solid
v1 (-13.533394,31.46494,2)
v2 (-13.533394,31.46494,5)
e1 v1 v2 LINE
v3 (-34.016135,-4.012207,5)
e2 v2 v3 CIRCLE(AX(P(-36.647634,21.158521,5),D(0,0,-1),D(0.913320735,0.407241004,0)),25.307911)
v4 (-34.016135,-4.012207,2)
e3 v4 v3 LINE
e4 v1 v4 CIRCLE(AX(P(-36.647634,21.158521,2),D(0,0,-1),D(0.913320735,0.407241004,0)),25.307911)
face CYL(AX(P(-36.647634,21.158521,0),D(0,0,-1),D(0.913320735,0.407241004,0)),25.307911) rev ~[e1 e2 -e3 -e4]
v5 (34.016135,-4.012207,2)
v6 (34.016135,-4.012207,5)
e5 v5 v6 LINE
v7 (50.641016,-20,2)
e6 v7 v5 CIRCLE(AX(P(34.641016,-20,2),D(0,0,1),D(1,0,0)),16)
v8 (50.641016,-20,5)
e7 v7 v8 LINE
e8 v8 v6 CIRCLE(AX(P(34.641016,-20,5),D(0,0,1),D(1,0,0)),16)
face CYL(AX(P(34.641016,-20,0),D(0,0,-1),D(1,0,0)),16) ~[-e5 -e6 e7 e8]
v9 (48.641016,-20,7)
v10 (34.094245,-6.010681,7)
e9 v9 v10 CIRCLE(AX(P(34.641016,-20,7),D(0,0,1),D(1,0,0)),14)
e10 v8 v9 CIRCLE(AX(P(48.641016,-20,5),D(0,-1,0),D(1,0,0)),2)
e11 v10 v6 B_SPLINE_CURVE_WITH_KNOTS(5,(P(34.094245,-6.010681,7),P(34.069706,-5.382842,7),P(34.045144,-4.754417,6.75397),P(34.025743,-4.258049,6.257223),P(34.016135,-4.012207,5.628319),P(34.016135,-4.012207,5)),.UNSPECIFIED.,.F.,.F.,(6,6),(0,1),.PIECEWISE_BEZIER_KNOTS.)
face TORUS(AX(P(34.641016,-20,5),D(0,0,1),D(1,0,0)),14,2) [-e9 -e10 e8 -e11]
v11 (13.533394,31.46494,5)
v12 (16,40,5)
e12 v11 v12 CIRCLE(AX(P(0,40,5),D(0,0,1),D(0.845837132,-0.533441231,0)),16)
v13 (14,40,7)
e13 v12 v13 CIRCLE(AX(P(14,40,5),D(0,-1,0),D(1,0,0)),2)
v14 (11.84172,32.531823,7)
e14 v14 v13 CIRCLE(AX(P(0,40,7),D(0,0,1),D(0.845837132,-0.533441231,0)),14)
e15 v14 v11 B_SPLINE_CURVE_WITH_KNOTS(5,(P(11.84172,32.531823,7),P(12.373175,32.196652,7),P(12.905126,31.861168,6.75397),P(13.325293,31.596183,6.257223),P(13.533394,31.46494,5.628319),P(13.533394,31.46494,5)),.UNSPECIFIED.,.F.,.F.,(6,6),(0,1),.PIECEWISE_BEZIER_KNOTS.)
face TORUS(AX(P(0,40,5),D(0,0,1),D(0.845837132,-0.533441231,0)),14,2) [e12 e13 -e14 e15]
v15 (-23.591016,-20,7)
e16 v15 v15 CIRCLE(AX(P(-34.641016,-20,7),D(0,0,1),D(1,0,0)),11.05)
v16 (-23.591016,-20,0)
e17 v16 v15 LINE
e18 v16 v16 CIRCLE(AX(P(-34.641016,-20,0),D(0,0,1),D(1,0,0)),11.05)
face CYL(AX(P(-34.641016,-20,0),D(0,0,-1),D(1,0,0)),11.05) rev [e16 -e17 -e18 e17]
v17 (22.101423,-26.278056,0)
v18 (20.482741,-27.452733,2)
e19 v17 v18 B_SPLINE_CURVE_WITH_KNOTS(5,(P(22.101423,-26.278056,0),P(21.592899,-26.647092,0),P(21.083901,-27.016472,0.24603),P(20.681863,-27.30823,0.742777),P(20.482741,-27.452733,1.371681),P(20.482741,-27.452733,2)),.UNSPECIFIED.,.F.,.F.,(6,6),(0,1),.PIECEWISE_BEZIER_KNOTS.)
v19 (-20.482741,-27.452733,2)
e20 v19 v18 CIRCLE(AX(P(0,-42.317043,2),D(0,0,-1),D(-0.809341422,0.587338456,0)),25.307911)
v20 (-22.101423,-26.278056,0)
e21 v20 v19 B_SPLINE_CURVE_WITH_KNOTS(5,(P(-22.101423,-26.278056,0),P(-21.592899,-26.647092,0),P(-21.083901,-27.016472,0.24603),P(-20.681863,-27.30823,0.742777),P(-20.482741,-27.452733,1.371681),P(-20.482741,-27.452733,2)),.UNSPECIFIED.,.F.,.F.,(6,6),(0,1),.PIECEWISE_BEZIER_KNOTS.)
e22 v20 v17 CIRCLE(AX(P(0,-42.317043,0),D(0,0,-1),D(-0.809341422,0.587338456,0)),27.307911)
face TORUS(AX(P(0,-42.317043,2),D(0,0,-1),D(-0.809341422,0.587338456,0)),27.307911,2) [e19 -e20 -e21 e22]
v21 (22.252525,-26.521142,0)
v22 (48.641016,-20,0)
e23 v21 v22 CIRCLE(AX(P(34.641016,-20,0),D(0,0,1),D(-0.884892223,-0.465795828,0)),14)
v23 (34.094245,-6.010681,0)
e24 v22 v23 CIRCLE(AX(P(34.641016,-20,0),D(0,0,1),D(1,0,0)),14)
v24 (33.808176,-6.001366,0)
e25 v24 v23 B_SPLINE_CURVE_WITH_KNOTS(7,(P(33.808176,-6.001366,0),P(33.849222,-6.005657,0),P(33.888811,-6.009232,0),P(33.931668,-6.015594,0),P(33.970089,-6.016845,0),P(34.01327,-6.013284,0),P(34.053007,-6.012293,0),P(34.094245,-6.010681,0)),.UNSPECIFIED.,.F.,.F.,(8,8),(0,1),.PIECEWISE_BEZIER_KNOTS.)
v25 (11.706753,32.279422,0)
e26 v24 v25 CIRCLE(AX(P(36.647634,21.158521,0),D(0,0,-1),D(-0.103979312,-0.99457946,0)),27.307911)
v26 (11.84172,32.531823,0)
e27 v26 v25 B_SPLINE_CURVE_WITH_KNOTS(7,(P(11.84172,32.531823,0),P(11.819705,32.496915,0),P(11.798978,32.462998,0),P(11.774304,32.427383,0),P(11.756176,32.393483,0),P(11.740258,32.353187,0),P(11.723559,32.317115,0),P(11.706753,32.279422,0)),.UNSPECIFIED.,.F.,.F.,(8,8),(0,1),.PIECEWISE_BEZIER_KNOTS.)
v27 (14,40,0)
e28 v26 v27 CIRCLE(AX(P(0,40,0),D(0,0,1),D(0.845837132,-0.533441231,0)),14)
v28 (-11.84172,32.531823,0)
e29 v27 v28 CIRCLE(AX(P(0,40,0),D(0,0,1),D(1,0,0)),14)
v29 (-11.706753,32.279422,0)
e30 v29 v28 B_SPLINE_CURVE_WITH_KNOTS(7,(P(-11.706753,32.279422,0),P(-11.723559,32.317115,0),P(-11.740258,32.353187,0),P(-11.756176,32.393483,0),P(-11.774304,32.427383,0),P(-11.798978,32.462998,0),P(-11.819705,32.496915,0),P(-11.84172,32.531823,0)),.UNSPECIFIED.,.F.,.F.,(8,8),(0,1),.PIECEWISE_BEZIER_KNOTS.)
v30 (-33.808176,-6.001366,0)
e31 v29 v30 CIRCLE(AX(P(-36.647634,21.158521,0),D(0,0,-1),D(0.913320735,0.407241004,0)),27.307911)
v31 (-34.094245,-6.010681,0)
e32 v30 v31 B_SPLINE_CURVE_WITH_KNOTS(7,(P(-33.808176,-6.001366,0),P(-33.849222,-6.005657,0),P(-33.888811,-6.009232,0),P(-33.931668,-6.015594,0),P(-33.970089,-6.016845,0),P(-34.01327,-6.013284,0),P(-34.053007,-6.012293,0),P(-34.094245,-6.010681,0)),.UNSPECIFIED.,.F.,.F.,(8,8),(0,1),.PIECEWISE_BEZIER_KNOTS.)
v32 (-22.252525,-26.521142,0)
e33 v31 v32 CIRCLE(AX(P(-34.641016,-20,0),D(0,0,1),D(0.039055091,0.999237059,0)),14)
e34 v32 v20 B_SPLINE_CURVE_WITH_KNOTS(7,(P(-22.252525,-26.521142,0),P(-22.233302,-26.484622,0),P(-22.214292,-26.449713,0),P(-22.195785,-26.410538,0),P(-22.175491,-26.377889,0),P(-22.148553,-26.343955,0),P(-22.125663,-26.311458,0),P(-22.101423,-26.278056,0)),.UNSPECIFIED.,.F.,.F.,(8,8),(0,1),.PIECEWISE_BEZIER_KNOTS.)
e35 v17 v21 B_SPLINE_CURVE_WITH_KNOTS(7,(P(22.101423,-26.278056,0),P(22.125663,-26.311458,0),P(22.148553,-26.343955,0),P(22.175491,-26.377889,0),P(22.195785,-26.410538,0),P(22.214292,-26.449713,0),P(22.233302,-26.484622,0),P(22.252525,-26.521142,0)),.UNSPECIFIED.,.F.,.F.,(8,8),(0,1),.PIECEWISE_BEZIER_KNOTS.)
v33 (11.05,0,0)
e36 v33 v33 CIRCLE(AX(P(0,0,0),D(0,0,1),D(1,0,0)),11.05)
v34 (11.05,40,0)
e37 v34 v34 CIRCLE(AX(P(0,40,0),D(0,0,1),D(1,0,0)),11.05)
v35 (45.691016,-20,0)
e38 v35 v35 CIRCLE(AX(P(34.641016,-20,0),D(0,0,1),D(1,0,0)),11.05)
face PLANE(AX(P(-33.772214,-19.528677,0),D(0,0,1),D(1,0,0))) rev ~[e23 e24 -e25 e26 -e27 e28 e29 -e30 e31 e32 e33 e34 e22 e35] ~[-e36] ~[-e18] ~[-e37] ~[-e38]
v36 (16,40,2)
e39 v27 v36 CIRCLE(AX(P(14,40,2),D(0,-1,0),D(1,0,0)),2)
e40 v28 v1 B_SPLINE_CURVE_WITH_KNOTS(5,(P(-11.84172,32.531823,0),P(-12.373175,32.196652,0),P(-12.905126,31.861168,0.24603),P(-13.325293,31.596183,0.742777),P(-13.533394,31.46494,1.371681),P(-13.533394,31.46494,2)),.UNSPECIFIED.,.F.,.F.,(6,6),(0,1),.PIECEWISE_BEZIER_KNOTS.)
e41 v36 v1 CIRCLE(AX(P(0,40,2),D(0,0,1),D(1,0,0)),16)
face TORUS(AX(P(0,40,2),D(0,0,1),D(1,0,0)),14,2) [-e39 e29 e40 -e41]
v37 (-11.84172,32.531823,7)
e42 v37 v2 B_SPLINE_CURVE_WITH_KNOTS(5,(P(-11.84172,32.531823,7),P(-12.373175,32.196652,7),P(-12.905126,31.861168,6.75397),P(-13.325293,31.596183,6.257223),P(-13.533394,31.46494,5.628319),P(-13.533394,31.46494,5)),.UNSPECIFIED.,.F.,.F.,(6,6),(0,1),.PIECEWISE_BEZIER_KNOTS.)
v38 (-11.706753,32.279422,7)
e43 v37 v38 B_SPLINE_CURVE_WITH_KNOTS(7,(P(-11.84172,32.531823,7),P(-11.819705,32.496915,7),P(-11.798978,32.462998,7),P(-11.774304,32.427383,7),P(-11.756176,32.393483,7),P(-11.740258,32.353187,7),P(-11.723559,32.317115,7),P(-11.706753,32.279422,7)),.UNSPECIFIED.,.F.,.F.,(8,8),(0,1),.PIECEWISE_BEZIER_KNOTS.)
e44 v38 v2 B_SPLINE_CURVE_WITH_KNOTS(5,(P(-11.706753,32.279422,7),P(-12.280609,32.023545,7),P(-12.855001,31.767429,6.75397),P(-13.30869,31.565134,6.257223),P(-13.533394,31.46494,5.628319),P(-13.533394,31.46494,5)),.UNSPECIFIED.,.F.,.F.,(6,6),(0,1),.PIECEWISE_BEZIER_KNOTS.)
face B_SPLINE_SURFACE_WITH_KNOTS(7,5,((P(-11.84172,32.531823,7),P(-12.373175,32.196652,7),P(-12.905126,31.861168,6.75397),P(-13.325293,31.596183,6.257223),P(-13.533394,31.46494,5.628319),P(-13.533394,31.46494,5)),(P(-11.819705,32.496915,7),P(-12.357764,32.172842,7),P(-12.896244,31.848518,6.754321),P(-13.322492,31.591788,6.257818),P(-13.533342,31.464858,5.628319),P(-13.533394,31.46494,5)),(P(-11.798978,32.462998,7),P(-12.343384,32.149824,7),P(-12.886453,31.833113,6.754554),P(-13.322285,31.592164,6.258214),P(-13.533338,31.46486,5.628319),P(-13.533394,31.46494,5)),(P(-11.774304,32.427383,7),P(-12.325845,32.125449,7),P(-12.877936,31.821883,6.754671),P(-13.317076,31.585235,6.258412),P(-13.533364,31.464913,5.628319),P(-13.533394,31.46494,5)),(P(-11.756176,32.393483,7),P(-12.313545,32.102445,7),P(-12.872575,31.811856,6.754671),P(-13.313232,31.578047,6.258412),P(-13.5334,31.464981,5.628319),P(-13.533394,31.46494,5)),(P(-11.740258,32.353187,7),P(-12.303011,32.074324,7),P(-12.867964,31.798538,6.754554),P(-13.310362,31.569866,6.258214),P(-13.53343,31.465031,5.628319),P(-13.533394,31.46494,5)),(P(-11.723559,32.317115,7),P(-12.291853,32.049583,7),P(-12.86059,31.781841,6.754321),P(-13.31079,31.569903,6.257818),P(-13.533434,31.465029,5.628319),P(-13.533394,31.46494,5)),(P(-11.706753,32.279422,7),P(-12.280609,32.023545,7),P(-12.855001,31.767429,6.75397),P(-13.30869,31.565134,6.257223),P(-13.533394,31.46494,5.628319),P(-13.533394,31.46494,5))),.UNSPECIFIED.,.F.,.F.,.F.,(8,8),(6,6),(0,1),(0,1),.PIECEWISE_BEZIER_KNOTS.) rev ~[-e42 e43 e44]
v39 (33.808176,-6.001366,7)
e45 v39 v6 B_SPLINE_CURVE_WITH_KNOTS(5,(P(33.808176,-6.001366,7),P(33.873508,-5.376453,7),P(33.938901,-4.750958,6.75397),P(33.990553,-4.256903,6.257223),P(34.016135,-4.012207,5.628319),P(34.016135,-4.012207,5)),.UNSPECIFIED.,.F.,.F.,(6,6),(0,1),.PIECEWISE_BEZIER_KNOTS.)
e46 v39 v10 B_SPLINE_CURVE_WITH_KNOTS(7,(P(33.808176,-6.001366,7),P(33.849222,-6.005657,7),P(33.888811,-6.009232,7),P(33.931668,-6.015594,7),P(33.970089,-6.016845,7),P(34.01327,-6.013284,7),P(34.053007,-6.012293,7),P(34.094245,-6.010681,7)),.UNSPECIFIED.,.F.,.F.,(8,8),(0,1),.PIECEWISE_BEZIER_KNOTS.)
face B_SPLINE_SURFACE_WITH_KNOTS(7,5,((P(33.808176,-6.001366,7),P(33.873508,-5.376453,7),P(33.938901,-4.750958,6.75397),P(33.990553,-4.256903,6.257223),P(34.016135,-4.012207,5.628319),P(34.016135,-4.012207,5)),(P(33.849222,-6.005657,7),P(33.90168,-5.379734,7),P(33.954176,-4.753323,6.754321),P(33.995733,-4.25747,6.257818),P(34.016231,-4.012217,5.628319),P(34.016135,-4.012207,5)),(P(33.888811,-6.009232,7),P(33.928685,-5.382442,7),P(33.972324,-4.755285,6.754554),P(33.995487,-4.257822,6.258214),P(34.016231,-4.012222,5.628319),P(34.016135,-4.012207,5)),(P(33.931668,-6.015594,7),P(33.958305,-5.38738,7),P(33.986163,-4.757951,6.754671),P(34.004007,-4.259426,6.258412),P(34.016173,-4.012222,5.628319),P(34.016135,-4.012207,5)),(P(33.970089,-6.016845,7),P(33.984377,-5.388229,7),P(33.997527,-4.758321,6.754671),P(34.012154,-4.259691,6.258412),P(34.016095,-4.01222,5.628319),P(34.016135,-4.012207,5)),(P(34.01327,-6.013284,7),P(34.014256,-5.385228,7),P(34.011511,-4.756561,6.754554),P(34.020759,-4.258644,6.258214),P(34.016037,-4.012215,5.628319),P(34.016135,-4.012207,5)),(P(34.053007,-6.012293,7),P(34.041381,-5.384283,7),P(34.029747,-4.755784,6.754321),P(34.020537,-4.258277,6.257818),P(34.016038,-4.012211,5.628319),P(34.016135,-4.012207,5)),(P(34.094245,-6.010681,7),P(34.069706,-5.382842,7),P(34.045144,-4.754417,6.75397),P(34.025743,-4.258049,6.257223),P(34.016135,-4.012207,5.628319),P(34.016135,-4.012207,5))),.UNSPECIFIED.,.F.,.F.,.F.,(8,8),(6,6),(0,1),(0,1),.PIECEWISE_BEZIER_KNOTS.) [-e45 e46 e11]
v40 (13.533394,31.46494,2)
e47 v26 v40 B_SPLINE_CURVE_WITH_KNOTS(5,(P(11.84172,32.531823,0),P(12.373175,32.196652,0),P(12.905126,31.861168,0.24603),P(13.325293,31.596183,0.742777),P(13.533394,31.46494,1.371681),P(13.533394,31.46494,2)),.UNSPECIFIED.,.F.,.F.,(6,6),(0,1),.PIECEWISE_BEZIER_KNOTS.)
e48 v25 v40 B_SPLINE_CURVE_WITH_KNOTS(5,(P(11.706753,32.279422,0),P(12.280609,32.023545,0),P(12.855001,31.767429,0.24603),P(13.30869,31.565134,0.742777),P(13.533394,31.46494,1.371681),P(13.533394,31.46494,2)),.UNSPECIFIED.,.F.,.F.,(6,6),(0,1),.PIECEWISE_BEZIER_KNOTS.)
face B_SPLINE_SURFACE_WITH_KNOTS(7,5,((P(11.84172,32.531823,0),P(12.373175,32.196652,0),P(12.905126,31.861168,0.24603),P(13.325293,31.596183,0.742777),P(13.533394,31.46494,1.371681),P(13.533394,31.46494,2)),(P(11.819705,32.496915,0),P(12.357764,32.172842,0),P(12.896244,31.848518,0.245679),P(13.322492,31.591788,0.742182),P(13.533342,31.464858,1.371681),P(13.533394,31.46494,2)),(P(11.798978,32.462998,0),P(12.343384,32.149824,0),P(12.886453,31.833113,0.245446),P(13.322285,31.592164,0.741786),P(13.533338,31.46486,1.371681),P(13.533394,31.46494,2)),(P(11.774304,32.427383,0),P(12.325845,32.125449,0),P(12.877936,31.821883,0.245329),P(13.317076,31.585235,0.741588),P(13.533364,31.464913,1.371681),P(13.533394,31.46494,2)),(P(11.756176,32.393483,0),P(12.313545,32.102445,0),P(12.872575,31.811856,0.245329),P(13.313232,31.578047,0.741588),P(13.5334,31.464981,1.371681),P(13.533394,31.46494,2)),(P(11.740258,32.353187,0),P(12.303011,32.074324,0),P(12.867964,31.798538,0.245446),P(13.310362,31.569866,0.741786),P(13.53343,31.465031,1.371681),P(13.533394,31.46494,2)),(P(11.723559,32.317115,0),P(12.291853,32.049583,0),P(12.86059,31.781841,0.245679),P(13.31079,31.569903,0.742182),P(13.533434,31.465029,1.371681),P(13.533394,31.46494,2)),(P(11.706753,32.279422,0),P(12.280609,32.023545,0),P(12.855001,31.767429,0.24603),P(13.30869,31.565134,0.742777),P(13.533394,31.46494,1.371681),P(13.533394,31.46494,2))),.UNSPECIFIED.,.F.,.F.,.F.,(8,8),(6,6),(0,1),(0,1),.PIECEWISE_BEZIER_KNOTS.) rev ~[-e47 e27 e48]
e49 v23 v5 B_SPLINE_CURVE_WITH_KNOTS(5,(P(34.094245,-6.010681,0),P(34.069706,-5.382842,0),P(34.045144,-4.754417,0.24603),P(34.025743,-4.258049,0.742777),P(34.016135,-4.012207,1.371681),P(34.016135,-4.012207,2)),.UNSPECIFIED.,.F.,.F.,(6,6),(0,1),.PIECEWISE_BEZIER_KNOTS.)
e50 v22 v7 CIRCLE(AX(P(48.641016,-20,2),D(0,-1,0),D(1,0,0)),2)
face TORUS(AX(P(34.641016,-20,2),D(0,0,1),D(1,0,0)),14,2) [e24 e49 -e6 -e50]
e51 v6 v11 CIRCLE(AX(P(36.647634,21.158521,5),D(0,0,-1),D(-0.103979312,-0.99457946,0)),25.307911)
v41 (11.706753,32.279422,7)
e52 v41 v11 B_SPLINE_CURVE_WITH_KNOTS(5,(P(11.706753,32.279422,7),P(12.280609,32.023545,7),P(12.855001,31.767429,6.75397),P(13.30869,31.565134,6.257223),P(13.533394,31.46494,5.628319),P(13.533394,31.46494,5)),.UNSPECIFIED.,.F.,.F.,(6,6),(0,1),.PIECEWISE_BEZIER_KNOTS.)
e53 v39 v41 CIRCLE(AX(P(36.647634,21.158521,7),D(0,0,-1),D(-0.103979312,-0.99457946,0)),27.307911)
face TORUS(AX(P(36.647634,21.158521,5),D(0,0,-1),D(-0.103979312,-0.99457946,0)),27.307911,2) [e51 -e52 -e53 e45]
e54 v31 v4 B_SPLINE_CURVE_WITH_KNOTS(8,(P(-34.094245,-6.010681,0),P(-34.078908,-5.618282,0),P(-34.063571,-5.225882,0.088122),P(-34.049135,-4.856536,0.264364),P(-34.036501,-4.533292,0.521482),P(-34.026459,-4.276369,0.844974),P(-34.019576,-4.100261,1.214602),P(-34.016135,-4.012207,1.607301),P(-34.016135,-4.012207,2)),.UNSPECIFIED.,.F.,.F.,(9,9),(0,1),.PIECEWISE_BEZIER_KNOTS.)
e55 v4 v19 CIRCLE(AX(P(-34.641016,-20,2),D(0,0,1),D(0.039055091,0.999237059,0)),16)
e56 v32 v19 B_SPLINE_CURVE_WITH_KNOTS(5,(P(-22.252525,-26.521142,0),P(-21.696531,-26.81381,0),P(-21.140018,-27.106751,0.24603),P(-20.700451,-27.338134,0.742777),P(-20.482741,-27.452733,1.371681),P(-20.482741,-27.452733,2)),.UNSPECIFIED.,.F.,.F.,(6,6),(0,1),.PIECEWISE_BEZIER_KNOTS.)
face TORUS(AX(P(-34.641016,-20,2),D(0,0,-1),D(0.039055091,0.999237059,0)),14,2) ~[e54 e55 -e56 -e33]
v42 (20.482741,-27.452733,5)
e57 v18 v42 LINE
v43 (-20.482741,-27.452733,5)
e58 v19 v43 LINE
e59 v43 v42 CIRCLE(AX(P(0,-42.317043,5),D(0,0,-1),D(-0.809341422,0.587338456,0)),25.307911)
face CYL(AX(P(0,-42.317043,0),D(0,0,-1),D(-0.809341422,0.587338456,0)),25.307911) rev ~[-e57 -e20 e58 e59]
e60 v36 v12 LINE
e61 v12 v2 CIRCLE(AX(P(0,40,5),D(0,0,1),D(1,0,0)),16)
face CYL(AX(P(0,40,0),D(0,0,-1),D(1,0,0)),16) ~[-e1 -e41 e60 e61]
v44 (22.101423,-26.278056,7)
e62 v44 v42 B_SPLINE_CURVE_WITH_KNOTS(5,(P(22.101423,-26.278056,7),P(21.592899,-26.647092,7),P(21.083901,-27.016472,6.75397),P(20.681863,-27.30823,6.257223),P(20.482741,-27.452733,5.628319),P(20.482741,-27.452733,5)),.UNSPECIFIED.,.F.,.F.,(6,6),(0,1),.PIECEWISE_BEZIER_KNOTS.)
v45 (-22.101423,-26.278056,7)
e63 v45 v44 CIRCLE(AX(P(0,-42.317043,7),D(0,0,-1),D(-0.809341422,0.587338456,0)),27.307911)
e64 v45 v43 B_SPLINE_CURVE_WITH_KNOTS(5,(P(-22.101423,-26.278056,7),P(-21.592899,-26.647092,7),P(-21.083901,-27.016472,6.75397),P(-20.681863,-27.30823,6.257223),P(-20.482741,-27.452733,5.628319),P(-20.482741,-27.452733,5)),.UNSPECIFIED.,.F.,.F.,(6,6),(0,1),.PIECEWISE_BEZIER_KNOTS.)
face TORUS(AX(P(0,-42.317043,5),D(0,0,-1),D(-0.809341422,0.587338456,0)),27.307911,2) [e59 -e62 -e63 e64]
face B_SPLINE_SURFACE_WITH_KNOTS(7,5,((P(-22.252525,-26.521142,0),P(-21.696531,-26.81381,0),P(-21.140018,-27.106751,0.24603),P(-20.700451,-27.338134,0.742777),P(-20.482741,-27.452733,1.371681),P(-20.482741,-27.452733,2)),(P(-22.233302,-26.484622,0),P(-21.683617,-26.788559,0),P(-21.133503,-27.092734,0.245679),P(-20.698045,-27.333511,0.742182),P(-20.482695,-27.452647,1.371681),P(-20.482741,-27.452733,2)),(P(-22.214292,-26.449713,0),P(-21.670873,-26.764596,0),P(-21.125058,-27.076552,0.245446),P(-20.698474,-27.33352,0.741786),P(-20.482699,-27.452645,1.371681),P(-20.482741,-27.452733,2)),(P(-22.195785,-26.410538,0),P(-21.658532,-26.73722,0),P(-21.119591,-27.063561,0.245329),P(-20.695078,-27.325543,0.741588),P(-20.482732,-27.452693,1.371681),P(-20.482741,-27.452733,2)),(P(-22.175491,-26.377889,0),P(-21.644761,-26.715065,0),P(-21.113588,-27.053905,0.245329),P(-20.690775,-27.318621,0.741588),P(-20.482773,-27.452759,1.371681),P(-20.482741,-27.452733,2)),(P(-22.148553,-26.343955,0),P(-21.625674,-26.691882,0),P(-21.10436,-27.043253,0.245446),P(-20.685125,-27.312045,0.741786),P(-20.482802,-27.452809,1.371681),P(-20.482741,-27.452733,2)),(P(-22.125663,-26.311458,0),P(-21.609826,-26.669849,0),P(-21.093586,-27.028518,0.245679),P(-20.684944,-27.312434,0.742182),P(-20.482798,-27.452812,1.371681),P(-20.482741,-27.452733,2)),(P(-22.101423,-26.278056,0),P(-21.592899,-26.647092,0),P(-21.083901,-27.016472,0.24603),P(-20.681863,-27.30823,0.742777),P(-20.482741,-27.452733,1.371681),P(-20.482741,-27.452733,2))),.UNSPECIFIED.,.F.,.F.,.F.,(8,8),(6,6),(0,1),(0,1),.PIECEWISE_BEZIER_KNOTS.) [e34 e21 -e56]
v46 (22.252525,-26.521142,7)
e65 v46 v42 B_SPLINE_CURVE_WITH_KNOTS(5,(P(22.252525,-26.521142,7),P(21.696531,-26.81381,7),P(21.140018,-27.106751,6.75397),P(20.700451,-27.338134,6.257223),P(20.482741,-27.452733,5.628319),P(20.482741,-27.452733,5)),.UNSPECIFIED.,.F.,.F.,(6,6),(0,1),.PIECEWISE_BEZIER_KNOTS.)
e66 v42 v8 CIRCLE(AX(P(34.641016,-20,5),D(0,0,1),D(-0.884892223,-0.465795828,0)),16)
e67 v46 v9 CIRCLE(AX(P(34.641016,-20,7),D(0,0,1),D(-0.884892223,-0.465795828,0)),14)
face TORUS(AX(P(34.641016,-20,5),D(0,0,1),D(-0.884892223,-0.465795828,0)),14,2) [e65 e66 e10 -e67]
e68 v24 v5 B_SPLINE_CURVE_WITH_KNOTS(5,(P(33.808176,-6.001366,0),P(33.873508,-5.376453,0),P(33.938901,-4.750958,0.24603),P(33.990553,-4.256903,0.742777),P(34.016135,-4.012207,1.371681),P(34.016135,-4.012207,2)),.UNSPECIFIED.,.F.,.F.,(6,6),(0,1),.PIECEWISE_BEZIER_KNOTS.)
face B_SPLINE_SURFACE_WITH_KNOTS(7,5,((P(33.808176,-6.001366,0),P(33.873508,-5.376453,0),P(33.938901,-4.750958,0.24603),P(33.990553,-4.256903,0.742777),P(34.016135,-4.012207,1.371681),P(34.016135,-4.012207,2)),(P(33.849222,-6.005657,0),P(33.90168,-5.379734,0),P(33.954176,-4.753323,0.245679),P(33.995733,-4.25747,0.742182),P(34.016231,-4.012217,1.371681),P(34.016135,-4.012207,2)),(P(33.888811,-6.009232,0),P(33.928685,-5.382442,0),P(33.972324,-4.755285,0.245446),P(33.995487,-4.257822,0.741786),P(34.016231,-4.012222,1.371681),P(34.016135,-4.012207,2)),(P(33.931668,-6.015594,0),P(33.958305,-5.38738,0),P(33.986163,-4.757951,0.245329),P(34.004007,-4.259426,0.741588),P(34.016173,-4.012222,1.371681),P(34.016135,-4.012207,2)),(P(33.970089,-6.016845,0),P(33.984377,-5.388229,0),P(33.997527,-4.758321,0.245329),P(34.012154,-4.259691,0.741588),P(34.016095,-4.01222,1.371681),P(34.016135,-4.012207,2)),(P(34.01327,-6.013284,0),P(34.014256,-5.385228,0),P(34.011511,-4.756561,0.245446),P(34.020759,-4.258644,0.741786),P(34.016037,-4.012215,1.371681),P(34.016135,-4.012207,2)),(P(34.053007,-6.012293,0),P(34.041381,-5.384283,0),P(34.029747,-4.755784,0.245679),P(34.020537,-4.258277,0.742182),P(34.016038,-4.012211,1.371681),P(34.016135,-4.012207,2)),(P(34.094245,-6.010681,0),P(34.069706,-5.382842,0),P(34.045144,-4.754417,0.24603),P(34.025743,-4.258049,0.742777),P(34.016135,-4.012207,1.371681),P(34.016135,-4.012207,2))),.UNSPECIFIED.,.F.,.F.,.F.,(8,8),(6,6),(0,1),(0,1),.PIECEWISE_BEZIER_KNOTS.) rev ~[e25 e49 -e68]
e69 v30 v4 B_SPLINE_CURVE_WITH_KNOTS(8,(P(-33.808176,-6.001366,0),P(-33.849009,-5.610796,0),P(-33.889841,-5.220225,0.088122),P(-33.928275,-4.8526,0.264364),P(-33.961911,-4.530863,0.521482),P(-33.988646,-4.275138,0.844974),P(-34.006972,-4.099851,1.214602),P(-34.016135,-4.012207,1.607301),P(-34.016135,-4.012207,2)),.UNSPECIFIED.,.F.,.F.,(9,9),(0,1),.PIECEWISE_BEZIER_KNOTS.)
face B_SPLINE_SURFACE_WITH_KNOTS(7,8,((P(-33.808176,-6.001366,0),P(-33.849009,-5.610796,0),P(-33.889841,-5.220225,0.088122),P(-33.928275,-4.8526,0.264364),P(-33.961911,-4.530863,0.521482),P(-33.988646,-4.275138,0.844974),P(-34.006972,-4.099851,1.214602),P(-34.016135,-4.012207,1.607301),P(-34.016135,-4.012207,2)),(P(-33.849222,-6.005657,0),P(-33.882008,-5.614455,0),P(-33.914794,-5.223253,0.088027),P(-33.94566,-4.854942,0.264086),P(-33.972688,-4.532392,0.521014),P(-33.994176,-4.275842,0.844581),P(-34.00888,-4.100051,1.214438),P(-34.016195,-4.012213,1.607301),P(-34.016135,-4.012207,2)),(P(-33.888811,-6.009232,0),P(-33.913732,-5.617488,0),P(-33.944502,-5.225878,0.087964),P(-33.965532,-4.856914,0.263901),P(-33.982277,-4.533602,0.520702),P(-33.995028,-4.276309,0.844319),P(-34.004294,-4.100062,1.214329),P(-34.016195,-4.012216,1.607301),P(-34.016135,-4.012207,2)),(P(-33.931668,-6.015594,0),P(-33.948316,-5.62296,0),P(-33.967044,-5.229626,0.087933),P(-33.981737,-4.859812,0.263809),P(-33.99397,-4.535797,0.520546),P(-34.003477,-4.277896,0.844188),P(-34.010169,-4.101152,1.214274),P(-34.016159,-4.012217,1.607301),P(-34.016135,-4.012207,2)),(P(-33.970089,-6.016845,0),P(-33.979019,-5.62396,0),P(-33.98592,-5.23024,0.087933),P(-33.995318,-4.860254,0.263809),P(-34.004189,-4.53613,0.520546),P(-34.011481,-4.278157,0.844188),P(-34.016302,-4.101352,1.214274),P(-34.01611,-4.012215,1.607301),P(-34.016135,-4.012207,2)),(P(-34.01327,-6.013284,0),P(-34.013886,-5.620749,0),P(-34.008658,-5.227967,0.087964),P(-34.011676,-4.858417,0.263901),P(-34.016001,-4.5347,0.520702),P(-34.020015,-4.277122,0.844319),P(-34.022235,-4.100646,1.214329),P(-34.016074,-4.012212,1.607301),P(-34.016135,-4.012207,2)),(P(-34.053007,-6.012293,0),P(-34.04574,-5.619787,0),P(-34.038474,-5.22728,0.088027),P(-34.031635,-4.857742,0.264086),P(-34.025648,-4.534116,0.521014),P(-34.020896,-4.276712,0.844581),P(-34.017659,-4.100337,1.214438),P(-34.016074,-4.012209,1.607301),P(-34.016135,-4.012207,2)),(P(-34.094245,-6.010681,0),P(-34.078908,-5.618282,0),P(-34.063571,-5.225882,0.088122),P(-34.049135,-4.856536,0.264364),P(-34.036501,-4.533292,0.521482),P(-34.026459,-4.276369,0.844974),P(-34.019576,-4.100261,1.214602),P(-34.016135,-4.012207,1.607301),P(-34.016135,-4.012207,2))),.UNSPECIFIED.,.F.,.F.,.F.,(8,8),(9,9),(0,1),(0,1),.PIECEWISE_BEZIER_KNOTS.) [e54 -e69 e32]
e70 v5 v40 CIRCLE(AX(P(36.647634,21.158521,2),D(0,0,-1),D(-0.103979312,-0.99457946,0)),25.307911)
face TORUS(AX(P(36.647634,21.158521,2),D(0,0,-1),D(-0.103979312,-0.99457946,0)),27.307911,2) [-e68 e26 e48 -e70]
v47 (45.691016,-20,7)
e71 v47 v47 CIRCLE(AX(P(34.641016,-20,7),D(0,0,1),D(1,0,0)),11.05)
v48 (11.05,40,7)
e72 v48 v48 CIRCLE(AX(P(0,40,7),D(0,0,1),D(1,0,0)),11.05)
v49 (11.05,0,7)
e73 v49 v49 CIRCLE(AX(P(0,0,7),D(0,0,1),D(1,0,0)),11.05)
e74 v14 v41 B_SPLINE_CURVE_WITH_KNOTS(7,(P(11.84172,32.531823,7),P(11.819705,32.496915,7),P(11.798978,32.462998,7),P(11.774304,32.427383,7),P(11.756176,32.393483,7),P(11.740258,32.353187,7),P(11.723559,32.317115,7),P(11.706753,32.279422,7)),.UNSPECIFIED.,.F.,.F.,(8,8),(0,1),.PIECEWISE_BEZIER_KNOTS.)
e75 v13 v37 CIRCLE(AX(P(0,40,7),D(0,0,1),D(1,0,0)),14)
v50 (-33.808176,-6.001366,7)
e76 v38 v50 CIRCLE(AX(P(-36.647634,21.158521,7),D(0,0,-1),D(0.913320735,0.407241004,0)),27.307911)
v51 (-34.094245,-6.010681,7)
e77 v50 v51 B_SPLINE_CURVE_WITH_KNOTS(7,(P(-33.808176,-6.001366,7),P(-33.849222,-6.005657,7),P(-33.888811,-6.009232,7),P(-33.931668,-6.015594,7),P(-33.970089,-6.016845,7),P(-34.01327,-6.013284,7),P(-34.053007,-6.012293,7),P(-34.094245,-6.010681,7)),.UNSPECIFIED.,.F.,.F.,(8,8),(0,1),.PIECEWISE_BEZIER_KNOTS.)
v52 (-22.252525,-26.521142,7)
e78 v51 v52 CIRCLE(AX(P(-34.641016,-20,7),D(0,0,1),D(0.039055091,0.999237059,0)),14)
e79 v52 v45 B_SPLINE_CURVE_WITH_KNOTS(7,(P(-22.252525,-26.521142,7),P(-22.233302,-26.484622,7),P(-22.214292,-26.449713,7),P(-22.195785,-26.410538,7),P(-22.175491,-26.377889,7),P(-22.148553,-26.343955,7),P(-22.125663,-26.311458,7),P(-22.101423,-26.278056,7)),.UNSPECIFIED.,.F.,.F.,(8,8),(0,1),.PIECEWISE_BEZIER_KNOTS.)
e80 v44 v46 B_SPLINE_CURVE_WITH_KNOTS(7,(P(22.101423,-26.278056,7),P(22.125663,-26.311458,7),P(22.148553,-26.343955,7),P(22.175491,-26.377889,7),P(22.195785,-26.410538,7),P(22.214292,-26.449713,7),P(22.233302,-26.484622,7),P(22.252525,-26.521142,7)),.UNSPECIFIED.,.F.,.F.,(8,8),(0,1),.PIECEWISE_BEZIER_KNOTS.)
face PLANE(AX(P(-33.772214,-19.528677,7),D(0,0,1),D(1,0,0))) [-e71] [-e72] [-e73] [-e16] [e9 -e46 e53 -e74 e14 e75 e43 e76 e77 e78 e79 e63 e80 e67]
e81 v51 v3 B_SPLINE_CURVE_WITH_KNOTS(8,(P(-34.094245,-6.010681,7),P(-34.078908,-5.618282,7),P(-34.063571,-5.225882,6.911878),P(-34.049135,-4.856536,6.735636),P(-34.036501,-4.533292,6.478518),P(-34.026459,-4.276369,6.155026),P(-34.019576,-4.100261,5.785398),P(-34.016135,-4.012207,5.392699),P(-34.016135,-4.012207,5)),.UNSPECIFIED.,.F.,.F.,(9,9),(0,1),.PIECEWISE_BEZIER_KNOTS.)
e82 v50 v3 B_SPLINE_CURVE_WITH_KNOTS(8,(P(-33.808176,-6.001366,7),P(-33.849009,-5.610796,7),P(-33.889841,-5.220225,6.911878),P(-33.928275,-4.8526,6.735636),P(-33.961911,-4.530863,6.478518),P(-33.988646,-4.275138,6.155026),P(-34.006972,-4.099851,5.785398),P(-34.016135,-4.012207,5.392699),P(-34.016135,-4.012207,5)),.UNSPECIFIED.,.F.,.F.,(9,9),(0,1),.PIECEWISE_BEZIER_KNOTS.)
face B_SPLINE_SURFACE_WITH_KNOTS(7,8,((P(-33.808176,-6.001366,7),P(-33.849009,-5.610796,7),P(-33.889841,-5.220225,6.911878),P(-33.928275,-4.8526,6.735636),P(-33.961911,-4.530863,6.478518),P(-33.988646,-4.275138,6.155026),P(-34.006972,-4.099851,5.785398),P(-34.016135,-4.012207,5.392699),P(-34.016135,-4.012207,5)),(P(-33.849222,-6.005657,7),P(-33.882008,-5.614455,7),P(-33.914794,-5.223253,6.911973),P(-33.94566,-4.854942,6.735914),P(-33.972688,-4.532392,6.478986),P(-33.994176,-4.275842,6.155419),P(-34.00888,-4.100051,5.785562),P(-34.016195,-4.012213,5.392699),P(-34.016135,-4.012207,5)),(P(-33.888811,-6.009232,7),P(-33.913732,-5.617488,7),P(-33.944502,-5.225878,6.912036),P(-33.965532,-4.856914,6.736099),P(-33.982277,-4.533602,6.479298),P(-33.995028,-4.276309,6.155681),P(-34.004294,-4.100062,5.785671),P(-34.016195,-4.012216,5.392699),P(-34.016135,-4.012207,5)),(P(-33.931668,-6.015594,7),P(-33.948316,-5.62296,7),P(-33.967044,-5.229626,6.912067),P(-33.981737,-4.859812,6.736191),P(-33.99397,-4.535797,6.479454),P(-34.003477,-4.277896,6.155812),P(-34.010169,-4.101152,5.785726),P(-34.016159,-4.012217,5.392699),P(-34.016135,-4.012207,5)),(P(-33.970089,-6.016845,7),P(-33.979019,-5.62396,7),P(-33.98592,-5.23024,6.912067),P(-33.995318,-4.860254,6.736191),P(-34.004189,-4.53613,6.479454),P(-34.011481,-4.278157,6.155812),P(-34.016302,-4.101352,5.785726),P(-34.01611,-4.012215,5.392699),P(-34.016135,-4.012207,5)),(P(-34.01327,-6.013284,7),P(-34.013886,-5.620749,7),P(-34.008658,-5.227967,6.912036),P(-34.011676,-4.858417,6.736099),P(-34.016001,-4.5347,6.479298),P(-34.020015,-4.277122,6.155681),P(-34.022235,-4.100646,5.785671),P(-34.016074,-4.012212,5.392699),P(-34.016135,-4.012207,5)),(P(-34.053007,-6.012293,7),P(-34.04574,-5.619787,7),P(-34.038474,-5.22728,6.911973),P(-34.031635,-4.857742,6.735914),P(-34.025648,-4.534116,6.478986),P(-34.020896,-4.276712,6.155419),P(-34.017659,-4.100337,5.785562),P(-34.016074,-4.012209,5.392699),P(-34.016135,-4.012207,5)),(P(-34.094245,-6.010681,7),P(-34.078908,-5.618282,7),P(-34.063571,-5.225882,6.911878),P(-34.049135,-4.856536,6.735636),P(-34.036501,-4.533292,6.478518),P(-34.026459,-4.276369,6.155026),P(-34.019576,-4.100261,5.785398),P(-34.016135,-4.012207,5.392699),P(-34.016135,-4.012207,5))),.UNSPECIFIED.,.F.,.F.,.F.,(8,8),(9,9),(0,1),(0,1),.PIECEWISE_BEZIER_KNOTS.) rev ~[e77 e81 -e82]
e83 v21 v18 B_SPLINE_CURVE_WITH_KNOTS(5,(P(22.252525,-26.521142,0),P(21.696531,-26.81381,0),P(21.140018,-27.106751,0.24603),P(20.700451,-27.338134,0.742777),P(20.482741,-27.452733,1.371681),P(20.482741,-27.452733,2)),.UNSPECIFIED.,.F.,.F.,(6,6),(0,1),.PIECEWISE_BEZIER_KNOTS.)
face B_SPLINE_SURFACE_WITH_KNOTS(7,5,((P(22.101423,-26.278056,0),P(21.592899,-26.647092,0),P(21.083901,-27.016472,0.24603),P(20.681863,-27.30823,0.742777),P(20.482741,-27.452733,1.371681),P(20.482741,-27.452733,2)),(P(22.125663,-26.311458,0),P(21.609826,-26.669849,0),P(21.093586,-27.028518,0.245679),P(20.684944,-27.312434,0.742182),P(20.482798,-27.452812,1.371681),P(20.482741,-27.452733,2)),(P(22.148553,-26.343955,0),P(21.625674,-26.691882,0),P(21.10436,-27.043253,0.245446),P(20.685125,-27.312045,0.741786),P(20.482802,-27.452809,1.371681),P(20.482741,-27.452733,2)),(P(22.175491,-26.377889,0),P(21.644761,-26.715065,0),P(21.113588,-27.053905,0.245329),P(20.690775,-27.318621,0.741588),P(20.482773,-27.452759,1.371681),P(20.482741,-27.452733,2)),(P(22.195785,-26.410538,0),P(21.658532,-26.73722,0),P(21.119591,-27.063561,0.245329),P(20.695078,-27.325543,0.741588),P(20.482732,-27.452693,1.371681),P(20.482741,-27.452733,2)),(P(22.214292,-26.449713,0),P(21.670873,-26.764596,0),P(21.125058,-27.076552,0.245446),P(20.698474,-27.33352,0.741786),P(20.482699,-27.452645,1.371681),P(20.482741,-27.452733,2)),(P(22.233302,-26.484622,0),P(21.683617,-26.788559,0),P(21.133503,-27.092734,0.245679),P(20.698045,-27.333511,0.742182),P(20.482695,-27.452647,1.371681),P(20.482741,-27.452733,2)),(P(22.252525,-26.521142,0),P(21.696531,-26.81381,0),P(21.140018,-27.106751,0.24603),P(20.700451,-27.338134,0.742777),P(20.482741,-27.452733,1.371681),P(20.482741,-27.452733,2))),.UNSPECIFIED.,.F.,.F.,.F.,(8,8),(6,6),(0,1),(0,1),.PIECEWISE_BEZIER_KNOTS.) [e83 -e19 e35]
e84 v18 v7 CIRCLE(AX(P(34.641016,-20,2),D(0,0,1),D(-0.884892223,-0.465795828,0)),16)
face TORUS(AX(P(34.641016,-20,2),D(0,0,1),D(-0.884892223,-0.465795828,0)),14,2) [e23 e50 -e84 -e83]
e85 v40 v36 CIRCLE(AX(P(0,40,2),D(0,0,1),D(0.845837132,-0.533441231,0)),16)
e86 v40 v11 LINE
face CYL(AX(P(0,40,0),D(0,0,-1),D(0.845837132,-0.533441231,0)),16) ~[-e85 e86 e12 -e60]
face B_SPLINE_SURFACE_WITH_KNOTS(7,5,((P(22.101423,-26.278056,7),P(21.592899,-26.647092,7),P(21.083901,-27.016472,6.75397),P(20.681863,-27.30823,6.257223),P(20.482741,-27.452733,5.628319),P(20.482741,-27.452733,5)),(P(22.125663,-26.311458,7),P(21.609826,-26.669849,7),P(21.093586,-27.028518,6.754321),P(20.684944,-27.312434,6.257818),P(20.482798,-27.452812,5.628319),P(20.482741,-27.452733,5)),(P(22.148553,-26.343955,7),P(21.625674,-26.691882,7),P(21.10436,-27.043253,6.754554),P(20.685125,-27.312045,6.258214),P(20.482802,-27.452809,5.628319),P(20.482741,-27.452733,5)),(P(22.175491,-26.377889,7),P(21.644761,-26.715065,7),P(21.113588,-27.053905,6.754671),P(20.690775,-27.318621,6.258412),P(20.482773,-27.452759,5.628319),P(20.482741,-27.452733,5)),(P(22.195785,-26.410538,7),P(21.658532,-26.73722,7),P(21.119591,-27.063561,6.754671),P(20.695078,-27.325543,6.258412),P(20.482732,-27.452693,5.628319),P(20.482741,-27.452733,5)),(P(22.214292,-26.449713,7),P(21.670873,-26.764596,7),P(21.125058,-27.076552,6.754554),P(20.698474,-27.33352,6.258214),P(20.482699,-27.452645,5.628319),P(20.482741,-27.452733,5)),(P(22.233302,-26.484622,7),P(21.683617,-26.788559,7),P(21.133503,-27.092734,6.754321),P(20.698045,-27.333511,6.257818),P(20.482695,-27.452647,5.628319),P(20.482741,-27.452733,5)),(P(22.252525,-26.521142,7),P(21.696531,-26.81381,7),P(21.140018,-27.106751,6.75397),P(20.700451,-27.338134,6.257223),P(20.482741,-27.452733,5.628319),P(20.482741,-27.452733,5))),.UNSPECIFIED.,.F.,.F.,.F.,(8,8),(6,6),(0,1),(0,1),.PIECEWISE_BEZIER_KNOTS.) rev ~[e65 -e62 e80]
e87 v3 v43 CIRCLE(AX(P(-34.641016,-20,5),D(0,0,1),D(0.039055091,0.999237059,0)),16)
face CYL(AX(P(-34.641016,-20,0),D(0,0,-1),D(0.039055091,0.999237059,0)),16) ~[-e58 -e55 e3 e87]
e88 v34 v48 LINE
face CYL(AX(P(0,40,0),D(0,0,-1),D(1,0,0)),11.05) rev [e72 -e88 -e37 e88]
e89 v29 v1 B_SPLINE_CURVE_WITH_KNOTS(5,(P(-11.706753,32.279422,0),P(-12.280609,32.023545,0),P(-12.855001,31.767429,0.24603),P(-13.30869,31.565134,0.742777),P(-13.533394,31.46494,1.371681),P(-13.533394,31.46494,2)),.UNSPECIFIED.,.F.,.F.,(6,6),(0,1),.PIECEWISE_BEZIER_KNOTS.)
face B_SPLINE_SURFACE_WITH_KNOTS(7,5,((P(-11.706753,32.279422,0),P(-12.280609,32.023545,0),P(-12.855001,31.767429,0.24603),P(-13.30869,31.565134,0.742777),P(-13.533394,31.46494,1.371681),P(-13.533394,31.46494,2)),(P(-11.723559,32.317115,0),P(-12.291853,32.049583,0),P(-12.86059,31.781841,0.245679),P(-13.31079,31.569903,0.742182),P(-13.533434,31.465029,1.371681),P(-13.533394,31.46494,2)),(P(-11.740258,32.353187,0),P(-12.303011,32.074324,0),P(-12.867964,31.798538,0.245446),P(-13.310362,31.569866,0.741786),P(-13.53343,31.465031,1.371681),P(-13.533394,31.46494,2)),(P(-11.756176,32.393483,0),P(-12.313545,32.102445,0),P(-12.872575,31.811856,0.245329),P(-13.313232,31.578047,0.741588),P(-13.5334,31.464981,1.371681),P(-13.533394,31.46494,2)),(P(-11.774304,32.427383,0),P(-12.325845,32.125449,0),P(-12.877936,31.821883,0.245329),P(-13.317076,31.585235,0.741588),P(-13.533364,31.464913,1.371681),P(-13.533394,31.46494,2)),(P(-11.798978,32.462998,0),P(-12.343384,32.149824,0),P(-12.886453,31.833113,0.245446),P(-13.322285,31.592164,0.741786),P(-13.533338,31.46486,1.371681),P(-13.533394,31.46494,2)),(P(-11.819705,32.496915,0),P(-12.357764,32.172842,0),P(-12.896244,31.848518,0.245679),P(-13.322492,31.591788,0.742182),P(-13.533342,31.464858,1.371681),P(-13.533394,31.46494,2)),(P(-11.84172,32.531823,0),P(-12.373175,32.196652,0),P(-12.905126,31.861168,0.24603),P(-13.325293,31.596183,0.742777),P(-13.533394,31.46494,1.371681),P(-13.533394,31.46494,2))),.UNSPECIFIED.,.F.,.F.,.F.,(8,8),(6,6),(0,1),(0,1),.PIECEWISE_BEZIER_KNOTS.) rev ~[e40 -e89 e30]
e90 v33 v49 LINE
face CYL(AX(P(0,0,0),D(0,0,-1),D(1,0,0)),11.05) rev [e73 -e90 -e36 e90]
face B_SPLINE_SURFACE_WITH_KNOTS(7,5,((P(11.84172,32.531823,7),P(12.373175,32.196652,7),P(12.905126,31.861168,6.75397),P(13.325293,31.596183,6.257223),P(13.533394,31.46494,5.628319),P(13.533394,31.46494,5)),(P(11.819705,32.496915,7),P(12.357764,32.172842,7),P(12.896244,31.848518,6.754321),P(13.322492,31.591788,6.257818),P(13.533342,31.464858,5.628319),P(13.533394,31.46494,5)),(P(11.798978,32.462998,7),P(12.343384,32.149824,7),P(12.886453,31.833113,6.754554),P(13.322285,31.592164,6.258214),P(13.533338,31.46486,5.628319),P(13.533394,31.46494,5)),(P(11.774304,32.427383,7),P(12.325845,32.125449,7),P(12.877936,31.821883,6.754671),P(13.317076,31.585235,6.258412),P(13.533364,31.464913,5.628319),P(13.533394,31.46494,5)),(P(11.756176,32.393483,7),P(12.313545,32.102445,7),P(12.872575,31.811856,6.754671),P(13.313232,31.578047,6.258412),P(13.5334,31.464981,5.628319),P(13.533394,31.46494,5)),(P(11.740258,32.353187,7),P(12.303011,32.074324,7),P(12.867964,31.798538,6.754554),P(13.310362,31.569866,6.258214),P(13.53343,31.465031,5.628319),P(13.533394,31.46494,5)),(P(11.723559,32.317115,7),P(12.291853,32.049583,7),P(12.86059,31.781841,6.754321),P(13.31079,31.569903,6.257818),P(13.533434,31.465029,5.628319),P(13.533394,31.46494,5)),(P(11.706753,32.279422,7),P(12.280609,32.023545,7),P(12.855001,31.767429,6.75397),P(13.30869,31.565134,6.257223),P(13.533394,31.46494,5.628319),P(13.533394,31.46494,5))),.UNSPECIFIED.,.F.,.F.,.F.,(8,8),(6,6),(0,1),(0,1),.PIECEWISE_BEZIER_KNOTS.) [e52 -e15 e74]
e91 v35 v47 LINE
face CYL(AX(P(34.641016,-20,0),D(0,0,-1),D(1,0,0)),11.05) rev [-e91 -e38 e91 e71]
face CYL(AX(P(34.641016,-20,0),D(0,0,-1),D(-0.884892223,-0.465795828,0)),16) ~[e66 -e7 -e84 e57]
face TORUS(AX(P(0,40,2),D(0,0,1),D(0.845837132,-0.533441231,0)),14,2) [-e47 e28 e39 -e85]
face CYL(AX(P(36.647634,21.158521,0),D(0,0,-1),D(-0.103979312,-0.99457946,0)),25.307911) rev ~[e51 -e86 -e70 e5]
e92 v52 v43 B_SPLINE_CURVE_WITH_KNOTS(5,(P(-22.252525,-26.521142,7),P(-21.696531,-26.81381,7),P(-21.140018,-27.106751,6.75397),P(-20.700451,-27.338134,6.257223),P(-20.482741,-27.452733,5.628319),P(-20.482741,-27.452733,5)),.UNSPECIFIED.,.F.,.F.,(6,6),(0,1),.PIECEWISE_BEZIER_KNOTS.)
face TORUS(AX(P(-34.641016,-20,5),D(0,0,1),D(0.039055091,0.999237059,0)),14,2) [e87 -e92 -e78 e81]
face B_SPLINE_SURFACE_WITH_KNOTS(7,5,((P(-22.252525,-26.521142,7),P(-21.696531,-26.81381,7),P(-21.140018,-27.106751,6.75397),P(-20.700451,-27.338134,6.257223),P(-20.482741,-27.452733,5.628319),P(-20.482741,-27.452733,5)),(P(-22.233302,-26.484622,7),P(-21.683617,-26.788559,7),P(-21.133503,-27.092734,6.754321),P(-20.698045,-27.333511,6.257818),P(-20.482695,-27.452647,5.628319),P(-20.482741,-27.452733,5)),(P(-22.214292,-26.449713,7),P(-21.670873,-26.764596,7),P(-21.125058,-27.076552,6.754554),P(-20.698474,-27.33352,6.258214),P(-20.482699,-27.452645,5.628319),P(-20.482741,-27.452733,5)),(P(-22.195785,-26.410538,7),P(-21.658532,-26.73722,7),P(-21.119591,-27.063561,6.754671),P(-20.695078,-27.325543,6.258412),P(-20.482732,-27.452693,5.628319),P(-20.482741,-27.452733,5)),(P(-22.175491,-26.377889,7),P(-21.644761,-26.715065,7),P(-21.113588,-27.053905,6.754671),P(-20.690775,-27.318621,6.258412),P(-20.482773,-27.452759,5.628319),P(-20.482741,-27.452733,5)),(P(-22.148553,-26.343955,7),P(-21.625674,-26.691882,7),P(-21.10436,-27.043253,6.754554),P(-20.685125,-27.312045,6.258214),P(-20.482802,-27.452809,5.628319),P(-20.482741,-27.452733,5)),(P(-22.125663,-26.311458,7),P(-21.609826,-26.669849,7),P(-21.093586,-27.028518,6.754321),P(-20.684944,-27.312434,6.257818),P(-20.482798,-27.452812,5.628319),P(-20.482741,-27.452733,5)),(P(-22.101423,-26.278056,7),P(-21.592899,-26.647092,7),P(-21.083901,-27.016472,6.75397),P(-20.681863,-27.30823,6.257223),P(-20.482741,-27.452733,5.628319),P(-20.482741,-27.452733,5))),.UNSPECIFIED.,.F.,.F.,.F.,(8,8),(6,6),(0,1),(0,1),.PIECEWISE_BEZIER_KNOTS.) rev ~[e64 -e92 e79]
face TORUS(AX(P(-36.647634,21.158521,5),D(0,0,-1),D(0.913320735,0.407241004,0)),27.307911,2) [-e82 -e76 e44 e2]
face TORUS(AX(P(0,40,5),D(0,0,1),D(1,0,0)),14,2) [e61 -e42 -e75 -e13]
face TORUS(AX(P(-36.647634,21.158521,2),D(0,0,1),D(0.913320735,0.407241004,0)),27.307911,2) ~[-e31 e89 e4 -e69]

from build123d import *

# Parameters (mm, degrees)
F0_R     = 11.05
F1_DEPTH = 7
F2_R     = 2


with BuildPart() as f1:
    # F0 (on Top) → F1 (new body)
    with BuildSketch(Plane.XY):
        with BuildLine():
            ThreePointArc((-18.6410161514, -20), (-23.1084946716, -8.9094207401), (-34.0161346913, -4.0122070579))
            ThreePointArc((-34.0161346913, -4.0122070579), (-48.4974226119, -28), (-20.482740583, -27.4527332523))
            ThreePointArc((-20.482740583, -27.4527332523), (-19.1082699503, -23.8384626419), (-18.6410161514, -20))
        make_face()
        with Locations((-34.6410161514, -20)):
            Circle(F0_R, mode=Mode.SUBTRACT)
        with BuildLine():
            ThreePointArc((13.5333941083, 31.4649403102), (0, 24), (-13.5333941083, 31.4649403102))
            ThreePointArc((-13.5333941083, 31.4649403102), (-14.7303401287, 8.5045658385), (-34.0161346913, -4.0122070579))
            ThreePointArc((-34.0161346913, -4.0122070579), (-23.1084946716, -8.9094207401), (-18.6410161514, -20))
            ThreePointArc((-18.6410161514, -20), (-19.1082699503, -23.8384626419), (-20.482740583, -27.4527332523))
            ThreePointArc((-20.482740583, -27.4527332523), (0, -17.0091316771), (20.482740583, -27.4527332523))
            ThreePointArc((20.482740583, -27.4527332523), (20.7846096908, -12), (34.0161346913, -4.0122070579))
            ThreePointArc((34.0161346913, -4.0122070579), (14.7303401287, 8.5045658385), (13.5333941083, 31.4649403102))
        make_face()
        Circle(F0_R, mode=Mode.SUBTRACT)
        with BuildLine():
            ThreePointArc((13.5333941083, 31.4649403102), (15.3709841216, 35.5578330588), (16, 40))
            ThreePointArc((16, 40), (-4.4421669412, 55.3709841216), (-13.5333941083, 31.4649403102))
            ThreePointArc((-13.5333941083, 31.4649403102), (0, 24), (13.5333941083, 31.4649403102))
        make_face()
        with Locations((0, 40)):
            Circle(F0_R, mode=Mode.SUBTRACT)
        with BuildLine():
            ThreePointArc((50.6410161514, -20), (45.7315954113, -8.4674785203), (34.0161346913, -4.0122070579))
            ThreePointArc((34.0161346913, -4.0122070579), (20.7846096908, -12), (20.482740583, -27.4527332523))
            ThreePointArc((20.482740583, -27.4527332523), (38.4794787932, -35.5327462011), (50.6410161514, -20))
        make_face()
        with Locations((34.6410161514, -20)):
            Circle(F0_R, mode=Mode.SUBTRACT)
    extrude(amount=F1_DEPTH)

    # F2 (call 1 of 2: OpenCascade refuses the feature's edges together)
    f2_edges = [f1.edges().sort_by_distance(p)[0] for p in [
        (0, 56, 7),
        (-14.73034, 8.504566, 7),
        (-48.497423, -28, 7),
        (0, -17.009132, 7),
        (14.73034, 8.504566, 7),
        (48.497423, -28, 7),
    ]]
    fillet(f2_edges, radius=F2_R)

    # F2#2 (call 2 of 2)
    f2_2_edges = [f1.edges().sort_by_distance(p)[0] for p in [
        (-14.73034, 8.504566, 0),
        (0, 56, 0),
        (-48.497423, -28, 0),
        (0, -17.009132, 0),
        (14.73034, 8.504566, 0),
        (48.497423, -28, 0),
    ]]
    fillet(f2_2_edges, radius=F2_R)


solid = f1.part
